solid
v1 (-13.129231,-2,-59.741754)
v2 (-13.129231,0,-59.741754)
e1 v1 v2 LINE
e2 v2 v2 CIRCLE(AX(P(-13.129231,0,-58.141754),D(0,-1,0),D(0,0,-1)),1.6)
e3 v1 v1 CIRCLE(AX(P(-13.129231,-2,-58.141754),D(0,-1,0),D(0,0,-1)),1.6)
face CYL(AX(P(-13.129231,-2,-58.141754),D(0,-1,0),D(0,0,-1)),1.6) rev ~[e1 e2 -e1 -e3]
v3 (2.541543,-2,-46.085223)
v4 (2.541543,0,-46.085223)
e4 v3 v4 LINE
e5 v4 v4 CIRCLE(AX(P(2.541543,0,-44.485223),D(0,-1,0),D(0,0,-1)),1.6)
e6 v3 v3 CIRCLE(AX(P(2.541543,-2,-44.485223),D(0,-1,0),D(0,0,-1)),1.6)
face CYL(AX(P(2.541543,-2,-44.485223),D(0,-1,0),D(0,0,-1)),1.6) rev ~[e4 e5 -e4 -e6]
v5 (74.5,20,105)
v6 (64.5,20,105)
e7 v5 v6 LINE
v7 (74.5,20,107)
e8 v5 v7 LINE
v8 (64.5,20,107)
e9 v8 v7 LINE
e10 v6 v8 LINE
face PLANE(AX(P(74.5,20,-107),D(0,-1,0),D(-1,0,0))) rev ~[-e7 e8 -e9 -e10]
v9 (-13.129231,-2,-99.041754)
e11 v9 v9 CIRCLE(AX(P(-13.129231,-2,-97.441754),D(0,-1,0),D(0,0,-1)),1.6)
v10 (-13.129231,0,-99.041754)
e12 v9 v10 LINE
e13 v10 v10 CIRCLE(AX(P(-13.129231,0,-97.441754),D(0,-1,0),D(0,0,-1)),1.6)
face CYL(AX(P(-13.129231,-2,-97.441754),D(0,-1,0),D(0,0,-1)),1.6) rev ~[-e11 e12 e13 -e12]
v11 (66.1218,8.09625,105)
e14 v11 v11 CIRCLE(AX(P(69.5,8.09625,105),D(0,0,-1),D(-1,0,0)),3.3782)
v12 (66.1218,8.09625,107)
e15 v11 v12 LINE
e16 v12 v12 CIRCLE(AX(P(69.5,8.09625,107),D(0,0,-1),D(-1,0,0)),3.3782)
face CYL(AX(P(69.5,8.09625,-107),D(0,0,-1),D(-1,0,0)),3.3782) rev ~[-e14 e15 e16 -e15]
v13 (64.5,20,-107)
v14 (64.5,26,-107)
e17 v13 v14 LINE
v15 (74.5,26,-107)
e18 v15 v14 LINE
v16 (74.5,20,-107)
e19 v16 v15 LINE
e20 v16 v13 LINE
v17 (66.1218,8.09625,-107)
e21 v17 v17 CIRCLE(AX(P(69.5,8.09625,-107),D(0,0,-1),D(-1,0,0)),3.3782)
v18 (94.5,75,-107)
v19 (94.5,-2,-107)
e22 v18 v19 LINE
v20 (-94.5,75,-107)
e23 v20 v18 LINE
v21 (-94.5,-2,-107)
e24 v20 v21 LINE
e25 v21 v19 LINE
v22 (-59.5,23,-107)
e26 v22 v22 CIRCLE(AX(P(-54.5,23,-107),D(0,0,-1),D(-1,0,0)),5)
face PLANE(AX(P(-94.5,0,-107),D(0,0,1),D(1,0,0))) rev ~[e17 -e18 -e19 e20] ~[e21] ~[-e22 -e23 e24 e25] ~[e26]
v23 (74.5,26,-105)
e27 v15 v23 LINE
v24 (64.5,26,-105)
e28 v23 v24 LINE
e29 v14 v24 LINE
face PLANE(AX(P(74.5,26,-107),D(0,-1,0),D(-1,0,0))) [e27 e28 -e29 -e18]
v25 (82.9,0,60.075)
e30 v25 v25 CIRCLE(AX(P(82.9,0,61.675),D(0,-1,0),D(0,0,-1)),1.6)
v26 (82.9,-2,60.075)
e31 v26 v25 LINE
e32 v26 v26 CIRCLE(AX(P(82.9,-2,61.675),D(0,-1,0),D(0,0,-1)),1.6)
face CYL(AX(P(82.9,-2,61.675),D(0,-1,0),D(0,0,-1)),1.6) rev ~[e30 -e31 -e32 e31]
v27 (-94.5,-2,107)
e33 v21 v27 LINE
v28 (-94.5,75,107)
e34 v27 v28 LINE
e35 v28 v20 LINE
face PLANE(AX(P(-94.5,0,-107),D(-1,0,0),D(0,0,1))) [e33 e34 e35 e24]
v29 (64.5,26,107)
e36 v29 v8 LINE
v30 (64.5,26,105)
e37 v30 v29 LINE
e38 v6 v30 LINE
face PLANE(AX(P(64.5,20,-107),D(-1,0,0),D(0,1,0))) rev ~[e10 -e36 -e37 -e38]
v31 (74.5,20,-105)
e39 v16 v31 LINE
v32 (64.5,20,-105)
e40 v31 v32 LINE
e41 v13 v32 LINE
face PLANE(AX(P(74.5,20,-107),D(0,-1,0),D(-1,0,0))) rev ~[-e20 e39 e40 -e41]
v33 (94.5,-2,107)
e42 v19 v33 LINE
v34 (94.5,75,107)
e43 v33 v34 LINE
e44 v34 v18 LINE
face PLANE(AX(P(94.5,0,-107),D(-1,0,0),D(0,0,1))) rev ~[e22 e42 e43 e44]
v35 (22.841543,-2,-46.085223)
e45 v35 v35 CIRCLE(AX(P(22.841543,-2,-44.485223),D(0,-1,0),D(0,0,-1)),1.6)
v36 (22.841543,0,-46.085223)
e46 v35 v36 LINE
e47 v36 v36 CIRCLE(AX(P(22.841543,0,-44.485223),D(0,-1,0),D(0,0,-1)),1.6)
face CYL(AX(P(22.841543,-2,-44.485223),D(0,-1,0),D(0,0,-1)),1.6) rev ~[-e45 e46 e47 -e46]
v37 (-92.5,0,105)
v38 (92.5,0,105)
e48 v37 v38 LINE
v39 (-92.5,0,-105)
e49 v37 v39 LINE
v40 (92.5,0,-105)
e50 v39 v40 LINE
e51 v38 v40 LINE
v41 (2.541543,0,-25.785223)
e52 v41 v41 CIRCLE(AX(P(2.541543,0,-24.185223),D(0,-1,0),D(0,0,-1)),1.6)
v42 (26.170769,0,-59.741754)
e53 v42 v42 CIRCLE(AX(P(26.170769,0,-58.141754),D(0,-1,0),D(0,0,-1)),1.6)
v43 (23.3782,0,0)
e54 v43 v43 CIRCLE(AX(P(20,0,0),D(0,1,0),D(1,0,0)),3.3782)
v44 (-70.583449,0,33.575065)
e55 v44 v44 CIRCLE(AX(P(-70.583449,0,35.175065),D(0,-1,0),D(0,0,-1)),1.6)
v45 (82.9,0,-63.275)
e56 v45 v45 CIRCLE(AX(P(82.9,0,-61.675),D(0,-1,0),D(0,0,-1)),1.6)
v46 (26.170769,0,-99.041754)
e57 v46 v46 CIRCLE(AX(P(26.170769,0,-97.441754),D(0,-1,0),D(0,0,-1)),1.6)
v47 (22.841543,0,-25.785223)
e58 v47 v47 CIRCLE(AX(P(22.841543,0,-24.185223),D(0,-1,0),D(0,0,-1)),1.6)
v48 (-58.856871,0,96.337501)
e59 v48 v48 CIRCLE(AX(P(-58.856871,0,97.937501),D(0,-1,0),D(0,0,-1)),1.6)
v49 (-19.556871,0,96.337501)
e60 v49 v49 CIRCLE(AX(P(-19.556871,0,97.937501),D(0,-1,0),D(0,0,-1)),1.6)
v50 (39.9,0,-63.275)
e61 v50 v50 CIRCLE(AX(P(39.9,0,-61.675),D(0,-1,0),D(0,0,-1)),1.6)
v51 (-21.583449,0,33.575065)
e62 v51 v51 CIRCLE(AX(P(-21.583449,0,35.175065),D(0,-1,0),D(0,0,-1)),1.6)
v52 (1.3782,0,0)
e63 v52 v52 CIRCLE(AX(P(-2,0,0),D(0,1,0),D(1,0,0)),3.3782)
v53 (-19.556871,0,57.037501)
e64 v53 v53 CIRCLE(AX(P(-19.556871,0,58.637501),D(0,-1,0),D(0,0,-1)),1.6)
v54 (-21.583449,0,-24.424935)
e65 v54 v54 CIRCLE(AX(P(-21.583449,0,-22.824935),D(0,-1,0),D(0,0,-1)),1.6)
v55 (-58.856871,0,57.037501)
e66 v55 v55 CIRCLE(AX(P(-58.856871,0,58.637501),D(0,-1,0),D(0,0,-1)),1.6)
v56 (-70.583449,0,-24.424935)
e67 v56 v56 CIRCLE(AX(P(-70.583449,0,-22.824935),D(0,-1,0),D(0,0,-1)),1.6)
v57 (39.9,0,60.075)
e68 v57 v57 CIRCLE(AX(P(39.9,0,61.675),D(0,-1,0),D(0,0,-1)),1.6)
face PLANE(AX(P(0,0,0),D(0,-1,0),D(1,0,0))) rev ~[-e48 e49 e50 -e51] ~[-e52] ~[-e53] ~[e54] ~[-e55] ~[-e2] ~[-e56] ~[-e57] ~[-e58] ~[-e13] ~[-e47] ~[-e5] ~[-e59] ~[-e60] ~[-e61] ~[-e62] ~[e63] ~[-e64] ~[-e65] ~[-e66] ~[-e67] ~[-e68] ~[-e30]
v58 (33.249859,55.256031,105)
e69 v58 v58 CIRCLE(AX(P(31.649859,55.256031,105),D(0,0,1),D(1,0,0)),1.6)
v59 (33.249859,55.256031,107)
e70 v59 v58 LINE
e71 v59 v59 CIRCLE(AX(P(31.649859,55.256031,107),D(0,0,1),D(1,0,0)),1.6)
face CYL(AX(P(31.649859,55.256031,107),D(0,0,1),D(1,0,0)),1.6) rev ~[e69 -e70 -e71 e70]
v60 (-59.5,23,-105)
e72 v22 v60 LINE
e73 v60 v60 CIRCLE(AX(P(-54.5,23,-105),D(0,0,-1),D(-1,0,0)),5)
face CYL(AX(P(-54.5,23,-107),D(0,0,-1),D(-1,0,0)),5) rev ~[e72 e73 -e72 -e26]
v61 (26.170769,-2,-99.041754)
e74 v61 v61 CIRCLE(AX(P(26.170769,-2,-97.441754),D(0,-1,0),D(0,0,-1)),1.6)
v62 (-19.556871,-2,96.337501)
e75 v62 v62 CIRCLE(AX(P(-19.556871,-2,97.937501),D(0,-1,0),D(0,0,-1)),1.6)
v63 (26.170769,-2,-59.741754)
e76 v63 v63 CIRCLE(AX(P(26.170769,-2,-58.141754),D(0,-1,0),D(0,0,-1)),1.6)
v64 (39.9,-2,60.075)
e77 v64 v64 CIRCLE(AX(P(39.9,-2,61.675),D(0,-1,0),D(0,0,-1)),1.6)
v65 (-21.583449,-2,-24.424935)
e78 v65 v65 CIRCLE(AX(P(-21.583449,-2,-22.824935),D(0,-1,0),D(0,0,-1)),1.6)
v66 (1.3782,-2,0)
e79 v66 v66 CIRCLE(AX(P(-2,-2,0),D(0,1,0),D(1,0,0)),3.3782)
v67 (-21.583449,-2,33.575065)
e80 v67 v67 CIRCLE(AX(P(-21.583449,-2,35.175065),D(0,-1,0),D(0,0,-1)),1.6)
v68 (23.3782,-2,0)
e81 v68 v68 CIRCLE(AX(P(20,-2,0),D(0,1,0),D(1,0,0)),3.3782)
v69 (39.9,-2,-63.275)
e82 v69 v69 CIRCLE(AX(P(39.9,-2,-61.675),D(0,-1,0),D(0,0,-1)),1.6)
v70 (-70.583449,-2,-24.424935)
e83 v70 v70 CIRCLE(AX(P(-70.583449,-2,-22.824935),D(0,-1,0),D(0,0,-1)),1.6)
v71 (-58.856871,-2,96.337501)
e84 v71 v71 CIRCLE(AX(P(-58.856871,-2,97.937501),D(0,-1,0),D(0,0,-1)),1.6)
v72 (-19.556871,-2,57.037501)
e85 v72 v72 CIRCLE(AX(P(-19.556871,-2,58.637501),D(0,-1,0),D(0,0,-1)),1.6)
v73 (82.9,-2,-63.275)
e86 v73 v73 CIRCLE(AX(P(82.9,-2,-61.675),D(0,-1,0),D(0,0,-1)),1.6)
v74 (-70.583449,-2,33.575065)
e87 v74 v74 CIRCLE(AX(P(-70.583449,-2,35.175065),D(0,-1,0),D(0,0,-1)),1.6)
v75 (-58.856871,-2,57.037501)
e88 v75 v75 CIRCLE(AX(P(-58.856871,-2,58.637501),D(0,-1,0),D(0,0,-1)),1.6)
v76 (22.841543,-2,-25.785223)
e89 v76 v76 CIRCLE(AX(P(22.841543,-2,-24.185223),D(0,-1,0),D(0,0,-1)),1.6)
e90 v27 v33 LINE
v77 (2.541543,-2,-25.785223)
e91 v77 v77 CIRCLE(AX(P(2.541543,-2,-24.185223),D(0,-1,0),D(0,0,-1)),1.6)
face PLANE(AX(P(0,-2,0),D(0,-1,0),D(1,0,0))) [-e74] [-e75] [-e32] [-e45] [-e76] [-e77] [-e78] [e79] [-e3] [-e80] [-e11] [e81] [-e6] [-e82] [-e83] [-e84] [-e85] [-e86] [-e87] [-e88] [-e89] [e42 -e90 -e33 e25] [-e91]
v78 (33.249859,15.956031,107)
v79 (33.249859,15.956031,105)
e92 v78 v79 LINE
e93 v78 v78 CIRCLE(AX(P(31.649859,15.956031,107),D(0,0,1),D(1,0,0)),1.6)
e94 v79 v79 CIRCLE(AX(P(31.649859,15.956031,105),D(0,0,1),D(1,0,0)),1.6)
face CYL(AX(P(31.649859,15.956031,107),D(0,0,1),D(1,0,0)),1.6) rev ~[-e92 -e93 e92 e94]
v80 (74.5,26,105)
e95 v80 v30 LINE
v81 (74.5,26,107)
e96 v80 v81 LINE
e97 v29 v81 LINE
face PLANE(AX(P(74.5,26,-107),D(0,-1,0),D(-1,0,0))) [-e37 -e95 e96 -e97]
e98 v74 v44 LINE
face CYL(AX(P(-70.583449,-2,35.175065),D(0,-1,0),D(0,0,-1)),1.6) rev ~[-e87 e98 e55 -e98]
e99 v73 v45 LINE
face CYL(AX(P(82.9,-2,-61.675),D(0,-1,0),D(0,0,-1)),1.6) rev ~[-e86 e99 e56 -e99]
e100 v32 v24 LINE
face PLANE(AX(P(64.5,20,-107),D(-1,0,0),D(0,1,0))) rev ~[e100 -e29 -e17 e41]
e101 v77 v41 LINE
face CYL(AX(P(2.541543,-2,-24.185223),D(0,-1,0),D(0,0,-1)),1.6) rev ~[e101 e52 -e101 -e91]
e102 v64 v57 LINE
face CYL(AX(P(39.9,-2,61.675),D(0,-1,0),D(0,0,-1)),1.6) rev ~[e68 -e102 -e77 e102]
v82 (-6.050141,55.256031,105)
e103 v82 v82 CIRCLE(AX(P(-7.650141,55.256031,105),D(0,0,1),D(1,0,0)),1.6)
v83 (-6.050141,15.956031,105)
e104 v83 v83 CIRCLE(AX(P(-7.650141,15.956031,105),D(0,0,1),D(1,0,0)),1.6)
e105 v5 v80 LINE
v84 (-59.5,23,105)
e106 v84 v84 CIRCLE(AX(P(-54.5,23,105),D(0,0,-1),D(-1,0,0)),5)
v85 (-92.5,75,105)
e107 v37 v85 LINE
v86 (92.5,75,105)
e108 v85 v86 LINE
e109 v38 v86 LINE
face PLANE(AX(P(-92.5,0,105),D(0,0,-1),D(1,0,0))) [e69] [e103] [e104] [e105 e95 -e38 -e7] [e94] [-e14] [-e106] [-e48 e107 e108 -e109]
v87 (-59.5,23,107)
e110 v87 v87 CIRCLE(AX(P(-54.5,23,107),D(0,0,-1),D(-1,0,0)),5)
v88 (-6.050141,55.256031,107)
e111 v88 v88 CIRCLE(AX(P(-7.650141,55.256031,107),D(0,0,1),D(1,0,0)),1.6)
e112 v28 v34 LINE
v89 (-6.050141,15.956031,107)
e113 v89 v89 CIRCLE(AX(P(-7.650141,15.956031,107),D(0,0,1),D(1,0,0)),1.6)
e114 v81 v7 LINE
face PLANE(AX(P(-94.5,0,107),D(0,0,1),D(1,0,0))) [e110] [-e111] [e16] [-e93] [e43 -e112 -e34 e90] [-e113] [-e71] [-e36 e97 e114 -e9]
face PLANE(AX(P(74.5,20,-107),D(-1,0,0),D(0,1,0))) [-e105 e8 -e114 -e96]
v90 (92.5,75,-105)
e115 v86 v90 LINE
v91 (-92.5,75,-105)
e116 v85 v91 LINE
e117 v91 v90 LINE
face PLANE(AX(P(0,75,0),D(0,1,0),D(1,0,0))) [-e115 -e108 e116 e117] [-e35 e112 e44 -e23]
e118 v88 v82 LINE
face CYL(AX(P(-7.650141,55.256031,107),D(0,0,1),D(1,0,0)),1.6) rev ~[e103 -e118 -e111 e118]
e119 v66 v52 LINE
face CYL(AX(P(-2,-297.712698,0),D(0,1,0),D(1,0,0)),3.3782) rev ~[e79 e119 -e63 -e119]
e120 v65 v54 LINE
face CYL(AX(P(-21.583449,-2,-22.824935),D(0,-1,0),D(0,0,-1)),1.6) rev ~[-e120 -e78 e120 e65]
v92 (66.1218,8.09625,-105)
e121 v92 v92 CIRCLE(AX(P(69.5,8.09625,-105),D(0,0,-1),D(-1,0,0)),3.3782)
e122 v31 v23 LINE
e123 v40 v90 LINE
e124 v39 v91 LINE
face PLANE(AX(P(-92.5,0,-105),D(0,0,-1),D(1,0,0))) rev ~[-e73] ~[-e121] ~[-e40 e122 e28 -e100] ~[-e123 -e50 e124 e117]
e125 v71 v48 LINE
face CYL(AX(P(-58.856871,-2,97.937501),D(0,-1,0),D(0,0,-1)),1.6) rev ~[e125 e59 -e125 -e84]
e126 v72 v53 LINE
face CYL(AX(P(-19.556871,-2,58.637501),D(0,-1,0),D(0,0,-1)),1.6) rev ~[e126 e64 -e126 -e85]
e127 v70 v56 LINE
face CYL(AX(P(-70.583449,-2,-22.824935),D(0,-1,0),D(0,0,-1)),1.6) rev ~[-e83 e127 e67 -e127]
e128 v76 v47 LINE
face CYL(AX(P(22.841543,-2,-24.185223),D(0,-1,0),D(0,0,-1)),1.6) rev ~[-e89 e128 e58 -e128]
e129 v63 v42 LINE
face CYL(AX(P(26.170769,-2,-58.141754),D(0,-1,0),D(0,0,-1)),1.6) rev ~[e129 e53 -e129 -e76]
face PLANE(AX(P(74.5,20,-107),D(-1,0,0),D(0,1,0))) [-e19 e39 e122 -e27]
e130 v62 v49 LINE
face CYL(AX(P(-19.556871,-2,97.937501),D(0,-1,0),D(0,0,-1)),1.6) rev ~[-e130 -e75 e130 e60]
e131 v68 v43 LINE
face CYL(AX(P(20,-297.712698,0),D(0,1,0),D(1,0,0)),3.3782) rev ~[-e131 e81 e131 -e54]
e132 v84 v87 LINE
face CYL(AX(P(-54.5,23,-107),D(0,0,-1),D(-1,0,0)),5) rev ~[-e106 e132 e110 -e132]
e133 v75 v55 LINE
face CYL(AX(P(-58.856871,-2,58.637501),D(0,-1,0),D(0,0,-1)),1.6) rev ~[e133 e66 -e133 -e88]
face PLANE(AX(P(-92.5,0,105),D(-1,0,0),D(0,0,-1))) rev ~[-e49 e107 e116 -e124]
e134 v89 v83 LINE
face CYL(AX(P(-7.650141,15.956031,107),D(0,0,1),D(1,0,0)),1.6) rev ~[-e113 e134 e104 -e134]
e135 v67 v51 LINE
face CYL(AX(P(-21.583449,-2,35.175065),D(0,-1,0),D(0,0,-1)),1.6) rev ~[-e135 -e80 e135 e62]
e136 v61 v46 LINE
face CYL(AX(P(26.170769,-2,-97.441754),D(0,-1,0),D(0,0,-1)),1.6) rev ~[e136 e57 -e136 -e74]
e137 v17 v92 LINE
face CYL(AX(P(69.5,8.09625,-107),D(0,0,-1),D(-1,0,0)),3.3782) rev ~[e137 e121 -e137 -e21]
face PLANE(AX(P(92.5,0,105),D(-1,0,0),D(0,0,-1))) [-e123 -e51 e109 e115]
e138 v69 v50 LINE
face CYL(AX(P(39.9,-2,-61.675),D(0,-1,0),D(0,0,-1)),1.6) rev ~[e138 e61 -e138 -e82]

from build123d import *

# Parameters (mm, degrees)
SKETCH2_W               = 189
SKETCH2_H               = 214
SKETCH2_W_2             = 185
SKETCH2_H_2             = 210
WALLS_DEPTH             = 75
SKETCH3_W               = 189
SKETCH3_H               = 214
BASE_DEPTH              = 2
SKETCH4_R               = 5
SKETCH4_W               = 10
SKETCH4_H               = 6
CUT_EXTRUDE1_DEPTH      = 246.66491406
SKETCH5_R               = 3.3782
CUT_EXTRUDE2_DEPTH      = 246.66491406
F_1_4_CLEARANCE_HOLE1_D = 6.7564
CUT_EXTRUDE3_REACH      = 164.198
SKETCH9_R               = 1.6
CUT_EXTRUDE4_REACH      = 247.665
SKETCH10_R              = 1.6


with BuildPart() as part:
    # Sketch2 → Walls (new body)
    with BuildSketch(Plane(origin=(0, 0, 0), x_dir=(1, 0, 0), z_dir=(0, 1, 0))):
        Rectangle(SKETCH2_W, SKETCH2_H)
        Rectangle(SKETCH2_W_2, SKETCH2_H_2, mode=Mode.SUBTRACT)
    extrude(amount=WALLS_DEPTH)

    # Sketch3 → Base (add)
    with BuildSketch(Plane.XZ):
        Rectangle(SKETCH3_W, SKETCH3_H)
    extrude(amount=BASE_DEPTH)

    # Sketch4 → Cut-Extrude1 (cut, through all)
    with BuildSketch(Plane(origin=(0, 0, -107), x_dir=(-1, 0, 0), z_dir=(0, 0, -1))):
        with Locations((54.5, 23)):
            Circle(SKETCH4_R)
        with Locations((-69.5, 23)):
            Rectangle(SKETCH4_W, SKETCH4_H)
    extrude(amount=-CUT_EXTRUDE1_DEPTH, mode=Mode.SUBTRACT)

    # Sketch5 → Cut-Extrude2 (cut, through all)
    with BuildSketch(Plane(origin=(0, 0, -107), x_dir=(-1, 0, 0), z_dir=(0, 0, -1))):
        with Locations((-69.5, 8.09625)):
            Circle(SKETCH5_R)
    extrude(amount=-CUT_EXTRUDE2_DEPTH, mode=Mode.SUBTRACT)

    # 1/4 Clearance Hole1 (through all)
    with Locations(Plane(origin=(0, -2, 0), x_dir=(-1, 0, 0), z_dir=(0, -1, 0))):
        with Locations((-20, 0), (2, 0)):
            Hole(F_1_4_CLEARANCE_HOLE1_D / 2)

    # Sketch9 → Cut-Extrude3 (cut, up to next)
    with BuildSketch(Plane.XZ.offset(2), mode=Mode.PRIVATE) as cut_extrude3_sk1:
        with Locations(Location((82.9, 61.675, 0), (0, 0, 270))):
            Circle(SKETCH9_R)
    cut_extrude3_tool1 = extrude(cut_extrude3_sk1.sketch, amount=-CUT_EXTRUDE3_REACH, mode=Mode.PRIVATE) & part.part
    # Sketch9 → Cut-Extrude3 (cut, up to next)
    with BuildSketch(Plane.XZ.offset(2), mode=Mode.PRIVATE) as cut_extrude3_sk2:
        with Locations(Location((82.9, -61.675, 0), (0, 0, 270))):
            Circle(SKETCH9_R)
    cut_extrude3_tool2 = extrude(cut_extrude3_sk2.sketch, amount=-CUT_EXTRUDE3_REACH, mode=Mode.PRIVATE) & part.part
    # Sketch9 → Cut-Extrude3 (cut, up to next)
    with BuildSketch(Plane.XZ.offset(2), mode=Mode.PRIVATE) as cut_extrude3_sk3:
        with Locations(Location((39.9, 61.675, 0), (0, 0, 270))):
            Circle(SKETCH9_R)
    cut_extrude3_tool3 = extrude(cut_extrude3_sk3.sketch, amount=-CUT_EXTRUDE3_REACH, mode=Mode.PRIVATE) & part.part
    # Sketch9 → Cut-Extrude3 (cut, up to next)
    with BuildSketch(Plane.XZ.offset(2), mode=Mode.PRIVATE) as cut_extrude3_sk4:
        with Locations(Location((39.9, -61.675, 0), (0, 0, 270))):
            Circle(SKETCH9_R)
    cut_extrude3_tool4 = extrude(cut_extrude3_sk4.sketch, amount=-CUT_EXTRUDE3_REACH, mode=Mode.PRIVATE) & part.part
    # Sketch9 → Cut-Extrude3 (cut, up to next)
    with BuildSketch(Plane.XZ.offset(2), mode=Mode.PRIVATE) as cut_extrude3_sk5:
        with Locations(Location((26.170769447, -58.141754017, 0), (0, 0, 270))):
            Circle(SKETCH9_R)
    cut_extrude3_tool5 = extrude(cut_extrude3_sk5.sketch, amount=-CUT_EXTRUDE3_REACH, mode=Mode.PRIVATE) & part.part
    # Sketch9 → Cut-Extrude3 (cut, up to next)
    with BuildSketch(Plane.XZ.offset(2), mode=Mode.PRIVATE) as cut_extrude3_sk6:
        with Locations(Location((26.170769447, -97.441754017, 0), (0, 0, 270))):
            Circle(SKETCH9_R)
    cut_extrude3_tool6 = extrude(cut_extrude3_sk6.sketch, amount=-CUT_EXTRUDE3_REACH, mode=Mode.PRIVATE) & part.part
    # Sketch9 → Cut-Extrude3 (cut, up to next)
    with BuildSketch(Plane.XZ.offset(2), mode=Mode.PRIVATE) as cut_extrude3_sk7:
        with Locations(Location((-13.129230553, -58.141754017, 0), (0, 0, 270))):
            Circle(SKETCH9_R)
    cut_extrude3_tool7 = extrude(cut_extrude3_sk7.sketch, amount=-CUT_EXTRUDE3_REACH, mode=Mode.PRIVATE) & part.part
    # Sketch9 → Cut-Extrude3 (cut, up to next)
    with BuildSketch(Plane.XZ.offset(2), mode=Mode.PRIVATE) as cut_extrude3_sk8:
        with Locations(Location((-13.129230553, -97.441754017, 0), (0, 0, 270))):
            Circle(SKETCH9_R)
    cut_extrude3_tool8 = extrude(cut_extrude3_sk8.sketch, amount=-CUT_EXTRUDE3_REACH, mode=Mode.PRIVATE) & part.part
    # Sketch9 → Cut-Extrude3 (cut, up to next)
    with BuildSketch(Plane.XZ.offset(2), mode=Mode.PRIVATE) as cut_extrude3_sk9:
        with Locations(Location((22.84154278, -24.185222858, 0), (0, 0, 270))):
            Circle(SKETCH9_R)
    cut_extrude3_tool9 = extrude(cut_extrude3_sk9.sketch, amount=-CUT_EXTRUDE3_REACH, mode=Mode.PRIVATE) & part.part
    # Sketch9 → Cut-Extrude3 (cut, up to next)
    with BuildSketch(Plane.XZ.offset(2), mode=Mode.PRIVATE) as cut_extrude3_sk10:
        with Locations(Location((22.84154278, -44.485222858, 0), (0, 0, 270))):
            Circle(SKETCH9_R)
    cut_extrude3_tool10 = extrude(cut_extrude3_sk10.sketch, amount=-CUT_EXTRUDE3_REACH, mode=Mode.PRIVATE) & part.part
    # Sketch9 → Cut-Extrude3 (cut, up to next)
    with BuildSketch(Plane.XZ.offset(2), mode=Mode.PRIVATE) as cut_extrude3_sk11:
        with Locations(Location((2.54154278, -24.185222858, 0), (0, 0, 270))):
            Circle(SKETCH9_R)
    cut_extrude3_tool11 = extrude(cut_extrude3_sk11.sketch, amount=-CUT_EXTRUDE3_REACH, mode=Mode.PRIVATE) & part.part
    # Sketch9 → Cut-Extrude3 (cut, up to next)
    with BuildSketch(Plane.XZ.offset(2), mode=Mode.PRIVATE) as cut_extrude3_sk12:
        with Locations(Location((2.54154278, -44.485222858, 0), (0, 0, 270))):
            Circle(SKETCH9_R)
    cut_extrude3_tool12 = extrude(cut_extrude3_sk12.sketch, amount=-CUT_EXTRUDE3_REACH, mode=Mode.PRIVATE) & part.part
    # Sketch9 → Cut-Extrude3 (cut, up to next)
    with BuildSketch(Plane.XZ.offset(2), mode=Mode.PRIVATE) as cut_extrude3_sk13:
        with Locations(Location((-21.583449299, 35.175065187, 0), (0, 0, 270))):
            Circle(SKETCH9_R)
    cut_extrude3_tool13 = extrude(cut_extrude3_sk13.sketch, amount=-CUT_EXTRUDE3_REACH, mode=Mode.PRIVATE) & part.part
    # Sketch9 → Cut-Extrude3 (cut, up to next)
    with BuildSketch(Plane.XZ.offset(2), mode=Mode.PRIVATE) as cut_extrude3_sk14:
        with Locations(Location((-21.583449299, -22.824934813, 0), (0, 0, 270))):
            Circle(SKETCH9_R)
    cut_extrude3_tool14 = extrude(cut_extrude3_sk14.sketch, amount=-CUT_EXTRUDE3_REACH, mode=Mode.PRIVATE) & part.part
    # Sketch9 → Cut-Extrude3 (cut, up to next)
    with BuildSketch(Plane.XZ.offset(2), mode=Mode.PRIVATE) as cut_extrude3_sk15:
        with Locations(Location((-70.583449299, -22.824934813, 0), (0, 0, 270))):
            Circle(SKETCH9_R)
    cut_extrude3_tool15 = extrude(cut_extrude3_sk15.sketch, amount=-CUT_EXTRUDE3_REACH, mode=Mode.PRIVATE) & part.part
    # Sketch9 → Cut-Extrude3 (cut, up to next)
    with BuildSketch(Plane.XZ.offset(2), mode=Mode.PRIVATE) as cut_extrude3_sk16:
        with Locations(Location((-70.583449299, 35.175065187, 0), (0, 0, 270))):
            Circle(SKETCH9_R)
    cut_extrude3_tool16 = extrude(cut_extrude3_sk16.sketch, amount=-CUT_EXTRUDE3_REACH, mode=Mode.PRIVATE) & part.part
    # Sketch9 → Cut-Extrude3 (cut, up to next)
    with BuildSketch(Plane.XZ.offset(2), mode=Mode.PRIVATE) as cut_extrude3_sk17:
        with Locations(Location((-58.856871361, 58.63750142, 0), (0, 0, 270))):
            Circle(SKETCH9_R)
    cut_extrude3_tool17 = extrude(cut_extrude3_sk17.sketch, amount=-CUT_EXTRUDE3_REACH, mode=Mode.PRIVATE) & part.part
    # Sketch9 → Cut-Extrude3 (cut, up to next)
    with BuildSketch(Plane.XZ.offset(2), mode=Mode.PRIVATE) as cut_extrude3_sk18:
        with Locations(Location((-19.556871361, 58.63750142, 0), (0, 0, 270))):
            Circle(SKETCH9_R)
    cut_extrude3_tool18 = extrude(cut_extrude3_sk18.sketch, amount=-CUT_EXTRUDE3_REACH, mode=Mode.PRIVATE) & part.part
    # Sketch9 → Cut-Extrude3 (cut, up to next)
    with BuildSketch(Plane.XZ.offset(2), mode=Mode.PRIVATE) as cut_extrude3_sk19:
        with Locations(Location((-19.556871361, 97.93750142, 0), (0, 0, 270))):
            Circle(SKETCH9_R)
    cut_extrude3_tool19 = extrude(cut_extrude3_sk19.sketch, amount=-CUT_EXTRUDE3_REACH, mode=Mode.PRIVATE) & part.part
    # Sketch9 → Cut-Extrude3 (cut, up to next)
    with BuildSketch(Plane.XZ.offset(2), mode=Mode.PRIVATE) as cut_extrude3_sk20:
        with Locations(Location((-58.856871361, 97.93750142, 0), (0, 0, 270))):
            Circle(SKETCH9_R)
    cut_extrude3_tool20 = extrude(cut_extrude3_sk20.sketch, amount=-CUT_EXTRUDE3_REACH, mode=Mode.PRIVATE) & part.part
    add(cut_extrude3_tool1.solids().sort_by_distance((82.9, -2, 61.675))[0], mode=Mode.SUBTRACT)
    add(cut_extrude3_tool2.solids().sort_by_distance((82.9, -2, -61.675))[0], mode=Mode.SUBTRACT)
    add(cut_extrude3_tool3.solids().sort_by_distance((39.9, -2, 61.675))[0], mode=Mode.SUBTRACT)
    add(cut_extrude3_tool4.solids().sort_by_distance((39.9, -2, -61.675))[0], mode=Mode.SUBTRACT)
    add(cut_extrude3_tool5.solids().sort_by_distance((26.170769, -2, -58.141754))[0], mode=Mode.SUBTRACT)
    add(cut_extrude3_tool6.solids().sort_by_distance((26.170769, -2, -97.441754))[0], mode=Mode.SUBTRACT)
    add(cut_extrude3_tool7.solids().sort_by_distance((-13.129231, -2, -58.141754))[0], mode=Mode.SUBTRACT)
    add(cut_extrude3_tool8.solids().sort_by_distance((-13.129231, -2, -97.441754))[0], mode=Mode.SUBTRACT)
    add(cut_extrude3_tool9.solids().sort_by_distance((22.841543, -2, -24.185223))[0], mode=Mode.SUBTRACT)
    add(cut_extrude3_tool10.solids().sort_by_distance((22.841543, -2, -44.485223))[0], mode=Mode.SUBTRACT)
    add(cut_extrude3_tool11.solids().sort_by_distance((2.541543, -2, -24.185223))[0], mode=Mode.SUBTRACT)
    add(cut_extrude3_tool12.solids().sort_by_distance((2.541543, -2, -44.485223))[0], mode=Mode.SUBTRACT)
    add(cut_extrude3_tool13.solids().sort_by_distance((-21.583449, -2, 35.175065))[0], mode=Mode.SUBTRACT)
    add(cut_extrude3_tool14.solids().sort_by_distance((-21.583449, -2, -22.824935))[0], mode=Mode.SUBTRACT)
    add(cut_extrude3_tool15.solids().sort_by_distance((-70.583449, -2, -22.824935))[0], mode=Mode.SUBTRACT)
    add(cut_extrude3_tool16.solids().sort_by_distance((-70.583449, -2, 35.175065))[0], mode=Mode.SUBTRACT)
    add(cut_extrude3_tool17.solids().sort_by_distance((-58.856871, -2, 58.637501))[0], mode=Mode.SUBTRACT)
    add(cut_extrude3_tool18.solids().sort_by_distance((-19.556871, -2, 58.637501))[0], mode=Mode.SUBTRACT)
    add(cut_extrude3_tool19.solids().sort_by_distance((-19.556871, -2, 97.937501))[0], mode=Mode.SUBTRACT)
    add(cut_extrude3_tool20.solids().sort_by_distance((-58.856871, -2, 97.937501))[0], mode=Mode.SUBTRACT)

    # Sketch10 → Cut-Extrude4 (cut, up to next)
    with BuildSketch(Plane.XY.offset(107), mode=Mode.PRIVATE) as cut_extrude4_sk1:
        with Locations((-7.650141085, 55.256030586)):
            Circle(SKETCH10_R)
    cut_extrude4_tool1 = extrude(cut_extrude4_sk1.sketch, amount=-CUT_EXTRUDE4_REACH, mode=Mode.PRIVATE) & part.part
    # Sketch10 → Cut-Extrude4 (cut, up to next)
    with BuildSketch(Plane.XY.offset(107), mode=Mode.PRIVATE) as cut_extrude4_sk2:
        with Locations((31.649858915, 55.256030586)):
            Circle(SKETCH10_R)
    cut_extrude4_tool2 = extrude(cut_extrude4_sk2.sketch, amount=-CUT_EXTRUDE4_REACH, mode=Mode.PRIVATE) & part.part
    # Sketch10 → Cut-Extrude4 (cut, up to next)
    with BuildSketch(Plane.XY.offset(107), mode=Mode.PRIVATE) as cut_extrude4_sk3:
        with Locations((31.649858915, 15.956030586)):
            Circle(SKETCH10_R)
    cut_extrude4_tool3 = extrude(cut_extrude4_sk3.sketch, amount=-CUT_EXTRUDE4_REACH, mode=Mode.PRIVATE) & part.part
    # Sketch10 → Cut-Extrude4 (cut, up to next)
    with BuildSketch(Plane.XY.offset(107), mode=Mode.PRIVATE) as cut_extrude4_sk4:
        with Locations((-7.650141085, 15.956030586)):
            Circle(SKETCH10_R)
    cut_extrude4_tool4 = extrude(cut_extrude4_sk4.sketch, amount=-CUT_EXTRUDE4_REACH, mode=Mode.PRIVATE) & part.part
    add(cut_extrude4_tool1.solids().sort_by_distance((-7.650141, 55.256031, 107))[0], mode=Mode.SUBTRACT)
    add(cut_extrude4_tool2.solids().sort_by_distance((31.649859, 55.256031, 107))[0], mode=Mode.SUBTRACT)
    add(cut_extrude4_tool3.solids().sort_by_distance((31.649859, 15.956031, 107))[0], mode=Mode.SUBTRACT)
    add(cut_extrude4_tool4.solids().sort_by_distance((-7.650141, 15.956031, 107))[0], mode=Mode.SUBTRACT)


solid = part.part
